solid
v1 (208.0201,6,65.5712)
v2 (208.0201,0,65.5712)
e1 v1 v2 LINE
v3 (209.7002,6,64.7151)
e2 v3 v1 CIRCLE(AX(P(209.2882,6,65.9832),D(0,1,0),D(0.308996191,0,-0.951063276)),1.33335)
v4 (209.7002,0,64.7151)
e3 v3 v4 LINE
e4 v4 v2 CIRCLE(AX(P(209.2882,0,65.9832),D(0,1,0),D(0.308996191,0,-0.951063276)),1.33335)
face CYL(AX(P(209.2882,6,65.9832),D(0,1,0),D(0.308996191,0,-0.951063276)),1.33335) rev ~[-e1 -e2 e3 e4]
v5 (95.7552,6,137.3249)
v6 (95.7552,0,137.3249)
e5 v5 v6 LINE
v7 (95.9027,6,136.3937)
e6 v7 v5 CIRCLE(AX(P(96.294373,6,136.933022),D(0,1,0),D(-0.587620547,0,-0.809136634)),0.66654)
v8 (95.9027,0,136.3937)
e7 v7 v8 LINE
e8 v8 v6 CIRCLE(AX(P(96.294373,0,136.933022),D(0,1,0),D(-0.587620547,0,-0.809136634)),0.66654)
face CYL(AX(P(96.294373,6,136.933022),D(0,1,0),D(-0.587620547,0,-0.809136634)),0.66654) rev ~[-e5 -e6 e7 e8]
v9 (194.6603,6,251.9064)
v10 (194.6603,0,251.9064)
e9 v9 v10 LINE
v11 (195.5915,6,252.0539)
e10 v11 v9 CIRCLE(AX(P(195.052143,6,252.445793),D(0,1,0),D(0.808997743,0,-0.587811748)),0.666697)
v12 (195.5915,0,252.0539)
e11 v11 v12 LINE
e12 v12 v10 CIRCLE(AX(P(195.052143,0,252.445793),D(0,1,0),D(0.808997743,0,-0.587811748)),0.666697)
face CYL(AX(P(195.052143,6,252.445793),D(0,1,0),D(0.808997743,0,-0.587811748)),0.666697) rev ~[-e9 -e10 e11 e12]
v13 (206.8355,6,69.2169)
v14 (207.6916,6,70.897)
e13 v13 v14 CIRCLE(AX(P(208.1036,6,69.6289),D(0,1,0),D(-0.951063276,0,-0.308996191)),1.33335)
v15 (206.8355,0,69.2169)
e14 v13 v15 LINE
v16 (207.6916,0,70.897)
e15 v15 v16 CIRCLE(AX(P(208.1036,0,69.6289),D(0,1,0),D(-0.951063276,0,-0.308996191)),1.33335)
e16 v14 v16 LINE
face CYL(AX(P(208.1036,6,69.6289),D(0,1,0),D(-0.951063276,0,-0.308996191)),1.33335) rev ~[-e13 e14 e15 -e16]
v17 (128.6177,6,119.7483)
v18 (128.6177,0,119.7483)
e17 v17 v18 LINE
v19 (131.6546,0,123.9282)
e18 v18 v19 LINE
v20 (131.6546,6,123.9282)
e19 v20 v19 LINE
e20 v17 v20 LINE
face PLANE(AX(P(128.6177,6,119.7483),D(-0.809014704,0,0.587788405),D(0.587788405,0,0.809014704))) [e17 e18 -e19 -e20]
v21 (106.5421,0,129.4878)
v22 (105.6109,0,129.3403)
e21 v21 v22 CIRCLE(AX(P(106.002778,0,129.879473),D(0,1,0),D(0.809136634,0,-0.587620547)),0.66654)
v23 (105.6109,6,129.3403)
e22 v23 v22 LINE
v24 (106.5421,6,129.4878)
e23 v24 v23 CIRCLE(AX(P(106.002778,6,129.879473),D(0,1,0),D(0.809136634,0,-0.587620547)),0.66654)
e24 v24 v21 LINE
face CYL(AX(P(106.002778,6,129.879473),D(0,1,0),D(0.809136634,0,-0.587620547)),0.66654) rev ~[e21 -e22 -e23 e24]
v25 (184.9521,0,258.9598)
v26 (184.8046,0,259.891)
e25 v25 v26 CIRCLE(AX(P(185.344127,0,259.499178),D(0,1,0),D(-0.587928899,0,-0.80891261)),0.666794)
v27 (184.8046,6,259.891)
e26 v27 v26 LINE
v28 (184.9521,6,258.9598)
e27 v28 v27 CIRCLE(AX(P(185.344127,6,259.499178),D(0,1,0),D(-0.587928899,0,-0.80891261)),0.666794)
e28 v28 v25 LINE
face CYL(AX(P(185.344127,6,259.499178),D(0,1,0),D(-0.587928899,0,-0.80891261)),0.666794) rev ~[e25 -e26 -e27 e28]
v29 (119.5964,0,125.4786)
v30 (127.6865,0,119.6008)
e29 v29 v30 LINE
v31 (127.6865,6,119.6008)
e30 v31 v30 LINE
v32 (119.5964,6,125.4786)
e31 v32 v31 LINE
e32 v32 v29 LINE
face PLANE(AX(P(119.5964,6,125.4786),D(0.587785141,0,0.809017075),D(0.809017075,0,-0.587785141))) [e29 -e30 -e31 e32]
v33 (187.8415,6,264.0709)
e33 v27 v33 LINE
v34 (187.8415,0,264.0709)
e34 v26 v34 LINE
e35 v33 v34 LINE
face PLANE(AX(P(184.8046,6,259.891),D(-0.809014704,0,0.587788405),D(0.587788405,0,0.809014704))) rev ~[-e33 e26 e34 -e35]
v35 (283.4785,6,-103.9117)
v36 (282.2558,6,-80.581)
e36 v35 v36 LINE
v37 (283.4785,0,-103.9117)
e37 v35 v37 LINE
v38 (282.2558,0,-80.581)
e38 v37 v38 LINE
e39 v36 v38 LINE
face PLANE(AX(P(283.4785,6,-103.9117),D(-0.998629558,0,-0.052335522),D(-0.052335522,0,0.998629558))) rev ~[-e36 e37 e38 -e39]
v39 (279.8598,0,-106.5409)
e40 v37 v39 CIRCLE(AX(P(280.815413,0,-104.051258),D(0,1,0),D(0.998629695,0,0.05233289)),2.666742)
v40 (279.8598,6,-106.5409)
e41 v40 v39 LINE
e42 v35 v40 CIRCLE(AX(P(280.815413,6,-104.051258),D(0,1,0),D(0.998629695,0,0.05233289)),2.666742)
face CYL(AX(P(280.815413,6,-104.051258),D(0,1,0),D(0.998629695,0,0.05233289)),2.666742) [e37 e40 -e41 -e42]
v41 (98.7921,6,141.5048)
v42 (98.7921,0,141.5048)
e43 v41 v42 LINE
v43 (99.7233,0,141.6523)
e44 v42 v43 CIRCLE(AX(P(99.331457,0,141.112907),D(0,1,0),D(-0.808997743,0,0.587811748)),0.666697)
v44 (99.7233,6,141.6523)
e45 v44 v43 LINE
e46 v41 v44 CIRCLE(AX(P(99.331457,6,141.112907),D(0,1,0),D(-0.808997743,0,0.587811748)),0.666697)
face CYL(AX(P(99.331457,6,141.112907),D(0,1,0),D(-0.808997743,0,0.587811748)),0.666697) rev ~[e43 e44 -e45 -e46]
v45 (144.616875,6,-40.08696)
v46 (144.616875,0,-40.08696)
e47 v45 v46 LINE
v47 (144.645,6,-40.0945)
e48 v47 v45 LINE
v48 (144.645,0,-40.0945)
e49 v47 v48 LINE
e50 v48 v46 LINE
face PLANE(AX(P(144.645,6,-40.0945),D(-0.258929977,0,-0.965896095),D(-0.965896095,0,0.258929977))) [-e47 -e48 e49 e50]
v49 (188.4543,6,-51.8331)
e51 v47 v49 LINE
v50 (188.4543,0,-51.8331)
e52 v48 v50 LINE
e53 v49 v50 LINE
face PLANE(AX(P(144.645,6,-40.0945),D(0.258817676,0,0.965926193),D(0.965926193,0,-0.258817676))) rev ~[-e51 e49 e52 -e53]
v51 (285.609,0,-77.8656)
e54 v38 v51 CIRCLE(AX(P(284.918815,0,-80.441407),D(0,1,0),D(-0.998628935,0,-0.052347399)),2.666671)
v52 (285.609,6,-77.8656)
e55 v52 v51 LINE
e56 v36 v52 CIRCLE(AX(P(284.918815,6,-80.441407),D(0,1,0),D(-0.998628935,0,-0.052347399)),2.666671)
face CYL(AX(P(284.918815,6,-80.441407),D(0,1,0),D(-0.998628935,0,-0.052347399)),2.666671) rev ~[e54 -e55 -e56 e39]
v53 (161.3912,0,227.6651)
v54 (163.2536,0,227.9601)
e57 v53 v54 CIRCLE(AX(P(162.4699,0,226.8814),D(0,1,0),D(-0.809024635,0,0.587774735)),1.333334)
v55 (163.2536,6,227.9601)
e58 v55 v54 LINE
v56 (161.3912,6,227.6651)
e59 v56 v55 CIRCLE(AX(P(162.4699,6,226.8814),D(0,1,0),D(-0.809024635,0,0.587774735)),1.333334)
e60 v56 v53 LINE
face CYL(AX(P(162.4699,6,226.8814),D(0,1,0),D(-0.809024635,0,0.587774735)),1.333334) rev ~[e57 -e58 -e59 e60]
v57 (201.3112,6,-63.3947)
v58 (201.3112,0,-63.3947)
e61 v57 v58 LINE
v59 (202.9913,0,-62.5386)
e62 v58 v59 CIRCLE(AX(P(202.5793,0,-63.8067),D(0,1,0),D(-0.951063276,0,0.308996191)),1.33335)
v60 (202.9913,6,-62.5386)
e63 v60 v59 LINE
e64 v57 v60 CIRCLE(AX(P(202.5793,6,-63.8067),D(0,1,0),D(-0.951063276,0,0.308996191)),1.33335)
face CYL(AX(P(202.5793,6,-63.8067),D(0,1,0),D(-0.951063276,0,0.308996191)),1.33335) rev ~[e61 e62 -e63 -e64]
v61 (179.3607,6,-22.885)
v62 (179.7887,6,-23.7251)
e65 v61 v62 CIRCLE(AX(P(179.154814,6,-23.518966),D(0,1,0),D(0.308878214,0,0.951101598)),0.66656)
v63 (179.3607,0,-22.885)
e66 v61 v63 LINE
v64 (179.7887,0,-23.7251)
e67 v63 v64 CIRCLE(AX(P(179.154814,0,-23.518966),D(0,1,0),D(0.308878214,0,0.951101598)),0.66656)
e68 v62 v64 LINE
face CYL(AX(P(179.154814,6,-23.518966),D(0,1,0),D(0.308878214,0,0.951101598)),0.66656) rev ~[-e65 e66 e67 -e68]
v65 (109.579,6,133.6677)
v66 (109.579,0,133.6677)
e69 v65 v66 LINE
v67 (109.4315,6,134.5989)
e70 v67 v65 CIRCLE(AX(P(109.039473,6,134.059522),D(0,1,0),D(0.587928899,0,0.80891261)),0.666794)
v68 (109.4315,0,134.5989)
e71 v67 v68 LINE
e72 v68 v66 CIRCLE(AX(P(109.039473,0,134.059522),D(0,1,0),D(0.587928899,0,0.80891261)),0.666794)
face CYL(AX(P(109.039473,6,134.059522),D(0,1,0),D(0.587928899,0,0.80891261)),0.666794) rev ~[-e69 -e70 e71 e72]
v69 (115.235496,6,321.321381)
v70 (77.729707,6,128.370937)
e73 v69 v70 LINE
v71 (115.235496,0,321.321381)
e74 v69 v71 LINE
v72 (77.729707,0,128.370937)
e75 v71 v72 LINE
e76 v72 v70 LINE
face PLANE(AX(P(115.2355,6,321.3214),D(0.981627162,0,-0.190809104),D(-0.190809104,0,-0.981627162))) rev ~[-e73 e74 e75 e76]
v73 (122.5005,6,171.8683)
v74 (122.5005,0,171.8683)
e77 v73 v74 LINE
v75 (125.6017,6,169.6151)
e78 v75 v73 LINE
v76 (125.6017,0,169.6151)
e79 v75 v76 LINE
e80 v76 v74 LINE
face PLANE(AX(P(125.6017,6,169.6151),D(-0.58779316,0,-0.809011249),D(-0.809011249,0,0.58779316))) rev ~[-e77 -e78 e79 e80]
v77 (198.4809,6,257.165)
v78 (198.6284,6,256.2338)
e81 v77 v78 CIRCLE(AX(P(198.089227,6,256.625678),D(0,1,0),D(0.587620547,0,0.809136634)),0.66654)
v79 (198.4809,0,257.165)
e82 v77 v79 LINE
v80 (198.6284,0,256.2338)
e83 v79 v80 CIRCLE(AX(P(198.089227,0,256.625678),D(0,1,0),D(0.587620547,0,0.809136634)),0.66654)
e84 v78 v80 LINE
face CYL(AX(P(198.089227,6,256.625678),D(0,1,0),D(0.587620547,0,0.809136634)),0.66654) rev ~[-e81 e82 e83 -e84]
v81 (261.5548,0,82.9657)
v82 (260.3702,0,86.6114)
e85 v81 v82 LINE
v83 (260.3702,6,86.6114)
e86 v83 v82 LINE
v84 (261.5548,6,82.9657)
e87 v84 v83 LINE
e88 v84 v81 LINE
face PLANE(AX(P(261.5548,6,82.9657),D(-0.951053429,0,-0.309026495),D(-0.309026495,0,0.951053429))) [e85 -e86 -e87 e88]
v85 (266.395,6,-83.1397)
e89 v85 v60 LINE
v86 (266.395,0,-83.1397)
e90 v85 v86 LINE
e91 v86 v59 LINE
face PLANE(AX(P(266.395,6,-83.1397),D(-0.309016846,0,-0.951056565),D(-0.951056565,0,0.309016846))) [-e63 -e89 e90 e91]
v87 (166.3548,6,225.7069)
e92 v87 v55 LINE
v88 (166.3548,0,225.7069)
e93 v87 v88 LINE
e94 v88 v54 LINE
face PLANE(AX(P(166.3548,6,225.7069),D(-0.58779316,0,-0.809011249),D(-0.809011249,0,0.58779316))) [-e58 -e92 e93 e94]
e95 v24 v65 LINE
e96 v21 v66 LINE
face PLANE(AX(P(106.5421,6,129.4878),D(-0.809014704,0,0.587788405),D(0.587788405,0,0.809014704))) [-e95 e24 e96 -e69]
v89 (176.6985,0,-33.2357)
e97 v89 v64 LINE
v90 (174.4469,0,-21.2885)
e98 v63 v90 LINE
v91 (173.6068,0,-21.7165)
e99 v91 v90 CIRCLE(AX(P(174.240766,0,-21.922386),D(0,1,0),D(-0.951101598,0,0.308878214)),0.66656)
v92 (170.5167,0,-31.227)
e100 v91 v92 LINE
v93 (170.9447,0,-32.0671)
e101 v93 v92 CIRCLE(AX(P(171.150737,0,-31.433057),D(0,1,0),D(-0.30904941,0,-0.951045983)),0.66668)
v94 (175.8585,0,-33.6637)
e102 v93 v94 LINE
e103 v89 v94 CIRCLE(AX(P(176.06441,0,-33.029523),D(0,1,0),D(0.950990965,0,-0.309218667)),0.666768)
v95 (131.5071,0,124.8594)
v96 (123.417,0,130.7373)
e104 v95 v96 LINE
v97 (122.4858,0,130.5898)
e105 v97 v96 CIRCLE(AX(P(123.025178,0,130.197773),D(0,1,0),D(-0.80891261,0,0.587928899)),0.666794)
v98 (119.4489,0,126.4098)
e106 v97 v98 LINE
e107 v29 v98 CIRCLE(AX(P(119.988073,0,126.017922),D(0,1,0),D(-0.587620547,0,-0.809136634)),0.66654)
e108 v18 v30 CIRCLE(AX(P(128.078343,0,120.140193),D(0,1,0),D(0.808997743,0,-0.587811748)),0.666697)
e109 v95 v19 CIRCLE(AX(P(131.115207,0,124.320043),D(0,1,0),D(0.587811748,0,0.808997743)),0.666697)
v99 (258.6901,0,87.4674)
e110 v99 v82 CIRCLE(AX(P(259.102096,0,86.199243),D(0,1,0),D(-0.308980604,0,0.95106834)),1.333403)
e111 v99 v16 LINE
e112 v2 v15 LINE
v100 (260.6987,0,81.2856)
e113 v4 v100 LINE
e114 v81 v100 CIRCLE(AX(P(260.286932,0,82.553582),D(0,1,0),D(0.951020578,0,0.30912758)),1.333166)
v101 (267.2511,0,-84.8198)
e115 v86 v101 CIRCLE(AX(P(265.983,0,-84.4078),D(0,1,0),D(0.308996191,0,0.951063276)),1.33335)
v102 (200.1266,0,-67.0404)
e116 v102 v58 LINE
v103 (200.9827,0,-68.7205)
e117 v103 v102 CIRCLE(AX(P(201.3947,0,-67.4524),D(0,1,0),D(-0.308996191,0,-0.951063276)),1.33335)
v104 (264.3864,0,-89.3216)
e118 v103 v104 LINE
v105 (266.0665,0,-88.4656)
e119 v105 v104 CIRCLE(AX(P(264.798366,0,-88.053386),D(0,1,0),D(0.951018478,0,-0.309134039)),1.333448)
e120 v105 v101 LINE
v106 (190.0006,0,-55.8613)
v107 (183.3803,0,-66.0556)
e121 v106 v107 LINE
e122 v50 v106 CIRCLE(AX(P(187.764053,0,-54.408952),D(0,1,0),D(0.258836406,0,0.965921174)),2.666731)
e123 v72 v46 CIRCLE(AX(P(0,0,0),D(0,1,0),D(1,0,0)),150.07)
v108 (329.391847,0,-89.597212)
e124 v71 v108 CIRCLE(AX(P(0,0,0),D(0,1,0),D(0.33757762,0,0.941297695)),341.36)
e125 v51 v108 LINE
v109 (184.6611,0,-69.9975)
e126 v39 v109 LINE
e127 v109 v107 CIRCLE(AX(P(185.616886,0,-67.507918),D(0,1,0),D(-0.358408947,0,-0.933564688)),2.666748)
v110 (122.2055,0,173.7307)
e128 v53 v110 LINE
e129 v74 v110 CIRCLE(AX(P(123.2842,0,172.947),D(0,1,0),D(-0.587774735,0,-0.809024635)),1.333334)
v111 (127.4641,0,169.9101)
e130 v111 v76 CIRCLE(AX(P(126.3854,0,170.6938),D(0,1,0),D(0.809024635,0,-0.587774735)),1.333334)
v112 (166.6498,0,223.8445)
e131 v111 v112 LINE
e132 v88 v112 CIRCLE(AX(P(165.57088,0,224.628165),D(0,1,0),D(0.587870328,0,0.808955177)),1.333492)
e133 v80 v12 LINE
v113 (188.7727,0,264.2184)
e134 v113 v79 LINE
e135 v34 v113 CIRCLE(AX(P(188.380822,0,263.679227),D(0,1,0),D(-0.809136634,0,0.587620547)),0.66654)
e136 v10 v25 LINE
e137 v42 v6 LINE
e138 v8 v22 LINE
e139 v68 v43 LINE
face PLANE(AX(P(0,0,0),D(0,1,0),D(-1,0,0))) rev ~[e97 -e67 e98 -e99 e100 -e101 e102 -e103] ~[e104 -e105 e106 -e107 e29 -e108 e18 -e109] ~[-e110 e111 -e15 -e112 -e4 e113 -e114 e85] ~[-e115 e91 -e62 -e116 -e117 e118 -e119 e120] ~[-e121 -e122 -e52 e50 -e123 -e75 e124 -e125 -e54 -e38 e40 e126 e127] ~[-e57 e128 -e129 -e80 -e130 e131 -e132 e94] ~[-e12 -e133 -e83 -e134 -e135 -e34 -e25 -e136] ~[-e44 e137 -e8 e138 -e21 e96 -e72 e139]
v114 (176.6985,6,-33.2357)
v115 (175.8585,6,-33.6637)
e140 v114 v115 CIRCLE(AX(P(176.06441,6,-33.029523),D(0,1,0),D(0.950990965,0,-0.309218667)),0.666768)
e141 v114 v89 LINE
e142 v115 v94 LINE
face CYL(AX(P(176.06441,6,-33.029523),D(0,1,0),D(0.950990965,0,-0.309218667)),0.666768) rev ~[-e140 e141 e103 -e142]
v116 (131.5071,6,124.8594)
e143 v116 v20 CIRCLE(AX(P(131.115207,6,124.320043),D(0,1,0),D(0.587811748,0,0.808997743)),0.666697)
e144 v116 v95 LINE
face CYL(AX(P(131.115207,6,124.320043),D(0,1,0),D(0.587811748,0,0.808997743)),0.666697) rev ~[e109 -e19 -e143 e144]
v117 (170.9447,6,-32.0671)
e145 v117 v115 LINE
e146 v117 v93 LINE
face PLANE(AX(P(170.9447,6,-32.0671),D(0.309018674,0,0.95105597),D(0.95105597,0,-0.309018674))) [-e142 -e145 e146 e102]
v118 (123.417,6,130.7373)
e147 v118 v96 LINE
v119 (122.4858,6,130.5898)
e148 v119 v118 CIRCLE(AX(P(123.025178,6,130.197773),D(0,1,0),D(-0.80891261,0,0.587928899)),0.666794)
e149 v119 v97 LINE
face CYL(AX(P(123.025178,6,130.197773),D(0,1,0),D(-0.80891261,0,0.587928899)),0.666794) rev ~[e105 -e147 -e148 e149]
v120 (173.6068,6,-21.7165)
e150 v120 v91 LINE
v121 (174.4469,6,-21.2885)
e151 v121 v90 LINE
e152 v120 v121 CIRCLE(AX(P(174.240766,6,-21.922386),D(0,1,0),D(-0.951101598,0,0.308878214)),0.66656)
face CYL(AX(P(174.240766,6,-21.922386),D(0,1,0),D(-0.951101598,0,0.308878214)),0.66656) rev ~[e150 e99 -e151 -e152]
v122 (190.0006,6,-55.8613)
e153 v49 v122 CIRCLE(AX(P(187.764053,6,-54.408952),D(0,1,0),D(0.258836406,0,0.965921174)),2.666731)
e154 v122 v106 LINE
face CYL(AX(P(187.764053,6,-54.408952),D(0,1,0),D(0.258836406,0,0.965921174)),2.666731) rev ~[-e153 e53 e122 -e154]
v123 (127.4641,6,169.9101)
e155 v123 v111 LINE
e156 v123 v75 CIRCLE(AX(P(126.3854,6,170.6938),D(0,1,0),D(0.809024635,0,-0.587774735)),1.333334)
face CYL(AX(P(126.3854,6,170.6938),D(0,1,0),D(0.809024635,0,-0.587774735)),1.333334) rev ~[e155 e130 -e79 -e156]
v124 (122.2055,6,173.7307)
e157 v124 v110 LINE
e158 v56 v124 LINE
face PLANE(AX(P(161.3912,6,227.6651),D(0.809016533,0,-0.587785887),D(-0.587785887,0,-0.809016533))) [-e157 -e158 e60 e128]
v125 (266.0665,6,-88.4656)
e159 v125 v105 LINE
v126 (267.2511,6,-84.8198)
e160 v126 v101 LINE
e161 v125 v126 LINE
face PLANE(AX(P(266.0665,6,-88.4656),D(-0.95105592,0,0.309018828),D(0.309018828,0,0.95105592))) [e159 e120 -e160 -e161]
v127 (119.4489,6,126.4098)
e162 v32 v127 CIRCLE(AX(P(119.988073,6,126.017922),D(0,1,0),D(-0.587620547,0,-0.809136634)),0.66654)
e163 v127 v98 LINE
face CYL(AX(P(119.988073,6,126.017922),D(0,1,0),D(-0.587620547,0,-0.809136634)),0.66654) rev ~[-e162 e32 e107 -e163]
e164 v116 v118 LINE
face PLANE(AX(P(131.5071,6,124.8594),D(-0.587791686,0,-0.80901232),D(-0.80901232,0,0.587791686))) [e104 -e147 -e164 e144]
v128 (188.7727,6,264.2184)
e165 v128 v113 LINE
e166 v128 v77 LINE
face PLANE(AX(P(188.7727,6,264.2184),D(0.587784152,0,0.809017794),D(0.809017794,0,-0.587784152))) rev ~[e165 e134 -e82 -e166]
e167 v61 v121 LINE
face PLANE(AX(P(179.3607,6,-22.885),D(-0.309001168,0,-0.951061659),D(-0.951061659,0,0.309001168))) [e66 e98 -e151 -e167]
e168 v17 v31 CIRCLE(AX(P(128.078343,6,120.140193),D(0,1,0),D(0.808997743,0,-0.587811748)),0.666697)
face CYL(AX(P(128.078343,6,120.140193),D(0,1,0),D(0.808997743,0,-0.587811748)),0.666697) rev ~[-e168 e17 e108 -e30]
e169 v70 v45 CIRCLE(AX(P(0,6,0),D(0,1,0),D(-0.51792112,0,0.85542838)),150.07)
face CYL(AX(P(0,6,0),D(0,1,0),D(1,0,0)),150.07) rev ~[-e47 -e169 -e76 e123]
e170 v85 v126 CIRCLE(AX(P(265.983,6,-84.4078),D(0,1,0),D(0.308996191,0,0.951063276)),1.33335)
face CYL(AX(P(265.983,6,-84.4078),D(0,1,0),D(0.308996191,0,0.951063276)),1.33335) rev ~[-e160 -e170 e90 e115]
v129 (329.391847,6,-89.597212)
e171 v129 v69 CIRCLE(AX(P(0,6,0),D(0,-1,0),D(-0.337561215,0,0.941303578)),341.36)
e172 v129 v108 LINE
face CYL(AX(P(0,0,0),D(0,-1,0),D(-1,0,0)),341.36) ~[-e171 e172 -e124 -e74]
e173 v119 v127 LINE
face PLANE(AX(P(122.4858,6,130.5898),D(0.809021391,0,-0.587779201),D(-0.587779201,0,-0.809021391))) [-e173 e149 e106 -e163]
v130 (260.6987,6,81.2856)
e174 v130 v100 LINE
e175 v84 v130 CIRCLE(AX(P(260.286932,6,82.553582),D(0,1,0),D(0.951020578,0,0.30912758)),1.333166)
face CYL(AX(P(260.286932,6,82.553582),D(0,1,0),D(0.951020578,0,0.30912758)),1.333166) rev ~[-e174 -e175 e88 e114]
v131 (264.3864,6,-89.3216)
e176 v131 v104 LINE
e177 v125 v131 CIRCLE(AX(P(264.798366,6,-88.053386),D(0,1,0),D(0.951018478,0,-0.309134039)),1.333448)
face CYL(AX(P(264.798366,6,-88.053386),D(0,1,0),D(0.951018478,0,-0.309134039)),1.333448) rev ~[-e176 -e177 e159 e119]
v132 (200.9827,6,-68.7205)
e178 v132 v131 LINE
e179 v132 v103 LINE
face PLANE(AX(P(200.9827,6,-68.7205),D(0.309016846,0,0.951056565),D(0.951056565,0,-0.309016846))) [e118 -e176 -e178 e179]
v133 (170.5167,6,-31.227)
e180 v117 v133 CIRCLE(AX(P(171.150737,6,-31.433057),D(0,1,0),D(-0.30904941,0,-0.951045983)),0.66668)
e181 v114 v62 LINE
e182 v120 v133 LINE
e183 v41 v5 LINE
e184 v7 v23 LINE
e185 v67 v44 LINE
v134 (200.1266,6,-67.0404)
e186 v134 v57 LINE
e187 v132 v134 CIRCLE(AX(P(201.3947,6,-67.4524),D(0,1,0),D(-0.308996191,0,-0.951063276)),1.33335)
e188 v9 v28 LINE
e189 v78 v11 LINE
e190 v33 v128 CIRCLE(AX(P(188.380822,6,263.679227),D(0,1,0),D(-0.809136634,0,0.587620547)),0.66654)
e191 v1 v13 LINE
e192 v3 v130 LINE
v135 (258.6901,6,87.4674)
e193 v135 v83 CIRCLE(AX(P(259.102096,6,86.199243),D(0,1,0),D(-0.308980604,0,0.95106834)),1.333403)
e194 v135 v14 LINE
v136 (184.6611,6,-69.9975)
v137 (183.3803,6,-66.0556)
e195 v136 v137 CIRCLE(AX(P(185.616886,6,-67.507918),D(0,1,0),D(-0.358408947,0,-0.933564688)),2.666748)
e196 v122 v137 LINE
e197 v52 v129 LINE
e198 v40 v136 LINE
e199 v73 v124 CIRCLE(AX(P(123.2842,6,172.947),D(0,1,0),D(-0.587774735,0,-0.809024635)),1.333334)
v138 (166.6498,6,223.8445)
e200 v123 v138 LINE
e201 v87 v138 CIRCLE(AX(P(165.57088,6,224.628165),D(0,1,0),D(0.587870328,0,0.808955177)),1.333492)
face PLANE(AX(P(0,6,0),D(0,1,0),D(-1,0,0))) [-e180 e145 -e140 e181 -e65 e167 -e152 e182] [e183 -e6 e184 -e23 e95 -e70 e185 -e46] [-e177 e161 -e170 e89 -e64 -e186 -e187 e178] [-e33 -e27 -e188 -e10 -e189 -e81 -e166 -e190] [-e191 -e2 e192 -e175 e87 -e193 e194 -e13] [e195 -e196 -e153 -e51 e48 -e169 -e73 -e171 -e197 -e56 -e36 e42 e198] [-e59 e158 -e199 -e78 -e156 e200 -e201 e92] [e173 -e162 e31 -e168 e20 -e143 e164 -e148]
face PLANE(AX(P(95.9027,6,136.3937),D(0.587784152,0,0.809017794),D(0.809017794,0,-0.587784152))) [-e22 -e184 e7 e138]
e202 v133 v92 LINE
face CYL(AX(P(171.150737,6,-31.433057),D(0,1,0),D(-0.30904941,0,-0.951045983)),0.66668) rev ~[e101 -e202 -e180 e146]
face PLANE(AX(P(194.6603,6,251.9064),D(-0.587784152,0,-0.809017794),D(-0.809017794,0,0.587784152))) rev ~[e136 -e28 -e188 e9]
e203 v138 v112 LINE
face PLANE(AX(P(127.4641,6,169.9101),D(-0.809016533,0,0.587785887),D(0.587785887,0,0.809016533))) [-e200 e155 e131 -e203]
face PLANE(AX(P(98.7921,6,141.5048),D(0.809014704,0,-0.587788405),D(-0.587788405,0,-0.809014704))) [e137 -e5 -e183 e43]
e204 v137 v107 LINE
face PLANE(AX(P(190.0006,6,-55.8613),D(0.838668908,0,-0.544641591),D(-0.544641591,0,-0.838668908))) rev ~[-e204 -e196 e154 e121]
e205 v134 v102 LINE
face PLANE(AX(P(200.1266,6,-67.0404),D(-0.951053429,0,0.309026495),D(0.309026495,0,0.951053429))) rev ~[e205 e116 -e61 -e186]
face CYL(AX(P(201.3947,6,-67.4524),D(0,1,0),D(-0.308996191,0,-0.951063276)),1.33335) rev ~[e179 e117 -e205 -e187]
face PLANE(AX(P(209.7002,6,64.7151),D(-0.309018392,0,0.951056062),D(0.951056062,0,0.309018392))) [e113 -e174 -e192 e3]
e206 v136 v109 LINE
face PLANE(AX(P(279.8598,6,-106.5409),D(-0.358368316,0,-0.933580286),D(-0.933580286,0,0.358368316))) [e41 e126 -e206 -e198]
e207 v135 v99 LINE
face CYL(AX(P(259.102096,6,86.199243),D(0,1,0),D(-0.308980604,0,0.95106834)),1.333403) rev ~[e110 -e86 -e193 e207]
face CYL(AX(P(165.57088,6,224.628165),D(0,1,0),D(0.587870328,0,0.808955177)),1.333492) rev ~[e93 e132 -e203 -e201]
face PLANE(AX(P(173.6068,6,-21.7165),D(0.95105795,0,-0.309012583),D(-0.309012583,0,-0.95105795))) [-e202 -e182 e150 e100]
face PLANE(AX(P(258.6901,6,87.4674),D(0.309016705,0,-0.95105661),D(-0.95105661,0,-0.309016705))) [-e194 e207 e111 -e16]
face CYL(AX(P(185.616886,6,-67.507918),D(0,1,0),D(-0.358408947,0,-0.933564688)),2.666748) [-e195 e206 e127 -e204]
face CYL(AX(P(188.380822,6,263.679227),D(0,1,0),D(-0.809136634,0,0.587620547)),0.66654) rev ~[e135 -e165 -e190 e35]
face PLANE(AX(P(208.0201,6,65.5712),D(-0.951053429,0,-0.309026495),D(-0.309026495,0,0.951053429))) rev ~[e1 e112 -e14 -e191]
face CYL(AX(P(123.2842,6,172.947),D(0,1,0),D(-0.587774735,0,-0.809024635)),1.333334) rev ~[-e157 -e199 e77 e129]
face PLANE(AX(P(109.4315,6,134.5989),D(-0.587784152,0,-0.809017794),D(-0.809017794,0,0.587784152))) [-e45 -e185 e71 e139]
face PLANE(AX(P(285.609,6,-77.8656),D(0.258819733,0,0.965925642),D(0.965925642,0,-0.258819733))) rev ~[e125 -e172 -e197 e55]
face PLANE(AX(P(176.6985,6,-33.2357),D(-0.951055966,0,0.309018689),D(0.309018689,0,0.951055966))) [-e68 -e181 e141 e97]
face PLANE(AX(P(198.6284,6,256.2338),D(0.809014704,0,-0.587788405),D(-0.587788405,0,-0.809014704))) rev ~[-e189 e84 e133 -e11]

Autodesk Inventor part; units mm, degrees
ref_plane "YZ Plane" through (0, 0, 0) normal (1, 0, 0) x (0, 1, 0)
ref_plane "XZ Plane" through (0, 0, 0) normal (0, 1, 0) x (-1, 0, 0)
sketch "Sketch1" plane through (0, 0, 0) normal (0, 1, 0) x (-1, 0, 0)
  circle A0 centre (0, 0) radius 341.36
  circle A1 centre (0, 0) radius 150.07
  dimension "d84" = 300.14
  dimension "d85" = 682.72
extrude "Extrusion3" add sketch "Sketch1" along normal blind 6 contours A0 | A1
sketch "Sketch2" plane through (0, 6, 0) normal (0, 1, 0) x (1, 0, 0)
  circle A0 centre (0, 0) radius 245.715 construction
  line L0 (245.7148, 0.3131) -> (341.6521, -0.0088)
  line L1 (-0.6289, 279.0483) -> (-0.0524, 279.0483)
  line L2 (3.25, 279.0483) -> (3.25, 212.3817)
  line L3 (0.5377, 212.3817) -> (-0.051, 212.3817)
  line L4 (-3.25, 212.3817) -> (-3.25, 279.0483)
  arc A1 (-3.25, 212.3817) -> (-1.9167, 211.0483) centre (-1.9167, 212.3817) ccw
  arc A2 (1.9167, 211.0483) -> (3.25, 212.3817) centre (1.9167, 212.3817) ccw
  arc A3 (-1.9167, 280.3817) -> (-3.25, 279.0483) centre (-1.9167, 279.0483) ccw
  arc A4 (3.25, 279.0483) -> (1.9167, 280.3817) centre (1.9167, 279.0483) ccw
  line L5 (-1.9167, 280.3817) -> (1.9167, 280.3817)
  line L6 (-1.9167, 211.0483) -> (1.9167, 211.0483)
  line L7 (0, 0) -> (0, 212.3817)
  line L8 (0, 280.3817) -> (0, 341.36)
  line L9 (0, 211.0483) -> (0, 245.715) construction
  line L10 (0, 280.3817) -> (0, 245.715) construction
  arc A5 (-157.4948, 221.8428) -> (-159.3572, 222.1378) centre (-158.5735, 221.0591) ccw
  line L11 (-162.4585, 219.8846) -> (-159.3572, 222.1378)
  arc A6 (-162.4585, 219.8846) -> (-162.7534, 218.0222) centre (-161.6748, 218.8059) ccw
  line L12 (-160.9079, 221.0112) -> (-144.3647, 198.2416) construction
  line L13 (-160.633, 219.5628) -> (-160.1666, 219.9017)
  line L14 (-157.4948, 221.8428) -> (-125.976, 178.4609)
  line L15 (-131.2346, 174.6403) -> (-162.7534, 218.0222)
  line L16 (-127.8216, 175.4719) -> (-144.3647, 198.2416) construction
  line L17 (-128.1703, 176.8667) -> (-128.6466, 176.5206)
  arc A7 (-126.271, 176.5985) -> (-125.976, 178.4609) centre (-127.0547, 177.6772) ccw
  line L18 (-129.3722, 174.3453) -> (-126.271, 176.5985)
  arc A8 (-131.2346, 174.6403) -> (-129.3722, 174.3453) centre (-130.156, 175.424) ccw
  arc A9 (-259.6684, -81.8575) -> (-260.5244, -83.5376) centre (-259.2564, -83.1256) ccw
  line L19 (-259.3399, -87.1834) -> (-260.5244, -83.5376)
  arc A10 (-259.3399, -87.1834) -> (-257.6598, -88.0394) centre (-258.0718, -86.7713) ccw
  line L20 (-259.9321, -85.3605) -> (-233.1648, -76.6633) construction
  line L21 (-258.4697, -85.5466) -> (-258.6479, -84.9983)
  line L22 (-259.6684, -81.8575) -> (-208.6699, -65.2871)
  line L23 (-206.6613, -71.469) -> (-257.6598, -88.0394)
  line L24 (-206.3975, -67.966) -> (-233.1648, -76.6633) construction
  line L25 (-207.8317, -67.8666) -> (-207.6498, -68.4265)
  arc A11 (-206.9898, -66.1432) -> (-208.6699, -65.2871) centre (-208.2578, -66.5552) ccw
  line L26 (-205.8052, -69.7889) -> (-206.9898, -66.1432)
  arc A12 (-206.6613, -71.469) -> (-205.8052, -69.7889) centre (-207.0733, -70.2009) ccw
  arc A13 (258.6901, -87.4674) -> (260.3702, -86.6114) centre (259.1021, -86.1993) ccw
  line L27 (261.5548, -82.9657) -> (260.3702, -86.6114)
  arc A14 (261.5548, -82.9657) -> (260.6987, -81.2856) centre (260.2867, -82.5536) ccw
  line L28 (260.9625, -84.7885) -> (234.1951, -76.0913) construction
  line L29 (259.8887, -83.7783) -> (259.7106, -84.3266)
  line L30 (258.6901, -87.4674) -> (207.6916, -70.897)
  line L31 (209.7002, -64.7151) -> (260.6987, -81.2856)
  line L32 (207.4278, -67.394) -> (234.1951, -76.0913) construction
  line L33 (208.5297, -68.3175) -> (208.7116, -67.7576)
  arc A15 (206.8355, -69.2169) -> (207.6916, -70.897) centre (208.1036, -69.6289) ccw
  line L34 (208.0201, -65.5712) -> (206.8355, -69.2169)
  arc A16 (209.7002, -64.7151) -> (208.0201, -65.5712) centre (209.2882, -65.9832) ccw
  arc A17 (162.9147, 218.5186) -> (162.6198, 220.381) centre (161.836, 219.3023) ccw
  line L35 (159.5185, 222.6342) -> (162.6198, 220.381)
  arc A18 (159.5185, 222.6342) -> (157.6561, 222.3392) centre (158.7348, 221.5555) ccw
  line L36 (161.0691, 221.5076) -> (144.526, 198.7379) construction
  line L37 (159.7766, 220.7986) -> (160.243, 220.4597)
  line L38 (162.9147, 218.5186) -> (131.3959, 175.1367)
  line L39 (126.1373, 178.9573) -> (157.6561, 222.3392)
  line L40 (127.9829, 175.9683) -> (144.526, 198.7379) construction
  line L41 (129.2017, 176.7309) -> (128.7254, 177.0769)
  arc A19 (129.5335, 174.8417) -> (131.3959, 175.1367) centre (130.3172, 175.9204) ccw
  line L42 (126.4323, 177.0949) -> (129.5335, 174.8417)
  arc A20 (126.1373, 178.9573) -> (126.4323, 177.0949) centre (127.216, 178.1736) ccw
  line L43 (-265.5851, 85.6325) -> (-265.4069, 86.1808)
  line L44 (-267.2511, 84.8198) -> (-266.0665, 88.4656)
  line L45 (-201.3112, 63.3947) -> (-200.1266, 67.0404)
  arc A21 (-267.2511, 84.8198) -> (-266.395, 83.1397) centre (-265.983, 84.4078) ccw
  arc A22 (-264.3864, 89.3216) -> (-266.0665, 88.4656) centre (-264.7985, 88.0535) ccw
  line L46 (-266.6588, 86.6427) -> (-233.6889, 75.9301) construction
  line L47 (-202.9913, 62.5386) -> (-266.395, 83.1397)
  line L48 (-264.3864, 89.3216) -> (-200.9827, 68.7205)
  line L49 (-200.7189, 65.2175) -> (-233.6889, 75.9301) construction
  arc A23 (-202.9913, 62.5386) -> (-201.3112, 63.3947) centre (-202.5793, 63.8067) ccw
  arc A24 (-200.1266, 67.0404) -> (-200.9827, 68.7205) centre (-201.3947, 67.4524) ccw
  line L50 (-201.8208, 66.141) -> (-202.0027, 65.5811)
  line L51 (-163.5117, -226.1245) -> (-163.9781, -225.7857)
  line L52 (-163.2536, -227.9601) -> (-166.3548, -225.7069)
  line L53 (-122.5005, -171.8683) -> (-125.6017, -169.6151)
  arc A25 (-163.2536, -227.9601) -> (-161.3912, -227.6651) centre (-162.4699, -226.8814) ccw
  arc A26 (-166.6498, -223.8445) -> (-166.3548, -225.7069) centre (-165.5711, -224.6283) ccw
  line L54 (-164.8042, -226.8335) -> (-144.4277, -198.7876) construction
  line L55 (-122.2055, -173.7307) -> (-161.3912, -227.6651)
  line L56 (-166.6498, -223.8445) -> (-127.4641, -169.9101)
  line L57 (-124.0511, -170.7417) -> (-144.4277, -198.7876) construction
  arc A27 (-122.2055, -173.7307) -> (-122.5005, -171.8683) centre (-123.2842, -172.947) ccw
  arc A28 (-125.6017, -169.6151) -> (-127.4641, -169.9101) centre (-126.3854, -170.6938) ccw
  line L58 (-125.2699, -171.5043) -> (-124.7936, -171.8503)
  line L59 (164.5293, -225.3852) -> (164.0629, -225.724)
  line L60 (166.3548, -225.7069) -> (163.2536, -227.9601)
  line L61 (125.6017, -169.6151) -> (122.5005, -171.8683)
  arc A29 (166.3548, -225.7069) -> (166.6498, -223.8445) centre (165.5711, -224.6283) ccw
  arc A30 (161.3912, -227.6651) -> (163.2536, -227.9601) centre (162.4699, -226.8814) ccw
  line L62 (164.8042, -226.8335) -> (144.4277, -198.7876) construction
  line L63 (127.4641, -169.9101) -> (166.6498, -223.8445)
  line L64 (161.3912, -227.6651) -> (122.2055, -173.7307)
  line L65 (124.0511, -170.7417) -> (144.4277, -198.7876) construction
  arc A31 (127.4641, -169.9101) -> (125.6017, -169.6151) centre (126.3854, -170.6938) ccw
  arc A32 (122.5005, -171.8683) -> (122.2055, -173.7307) centre (123.2842, -172.947) ccw
  line L66 (124.3998, -172.1365) -> (124.8761, -171.7904)
  line L67 (265.1964, 86.8288) -> (265.3745, 86.2805)
  line L68 (266.0665, 88.4656) -> (267.2511, 84.8198)
  line L69 (200.1266, 67.0404) -> (201.3112, 63.3947)
  arc A33 (266.0665, 88.4656) -> (264.3864, 89.3216) centre (264.7985, 88.0535) ccw
  arc A34 (266.395, 83.1397) -> (267.2511, 84.8198) centre (265.983, 84.4078) ccw
  line L70 (266.6588, 86.6427) -> (233.6889, 75.9301) construction
  line L71 (200.9827, 68.7205) -> (264.3864, 89.3216)
  line L72 (266.395, 83.1397) -> (202.9913, 62.5386)
  line L73 (200.7189, 65.2175) -> (233.6889, 75.9301) construction
  arc A35 (200.9827, 68.7205) -> (200.1266, 67.0404) centre (201.3947, 67.4524) ccw
  arc A36 (201.3112, 63.3947) -> (202.9913, 62.5386) centre (202.5793, 63.8067) ccw
  line L74 (202.1531, 65.1181) -> (201.9712, 65.678)
  line L75 (236.8664, -101.279) -> (236.7913, -101.5102)
  point P0 (-128.6053, 176.5506)
  point P1 (-207.6656, -68.3781)
  point P2 (208.6959, -67.8061)
  point P3 (128.7666, 177.047)
  point P4 (-201.987, 65.6295)
  point P5 (-124.8348, -171.8204)
  point P6 (124.8348, -171.8204)
  point P7 (201.987, 65.6295)
  dimension "d21" = 6.5
  dimension "d23" = 66.6667
  dimension "d24" = 2.6667
  dimension "d25" = 2.6667
  dimension "d32" = 1.3333
  dimension "d33" = 1.3333
  dimension "d41" = 90
  dimension "d42" = 3.25
  dimension "d43" = 90
  dimension "d49" = 360
  dimension "d86" = 491.43
  dimension "d96" = 0.243
extrude "Extrusion4" cut sketch "Sketch2" against normal through all
sketch "Sketch3" plane through (0, 6, 0) normal (0, 1, 0) x (1, 0, 0)
  arc A0 (-115.2299, -321.3234) -> (115.2355, -321.3214) centre (0, 0) ccw
  arc A1 (-77.7244, -128.3741) -> (77.7297, -128.3709) centre (0, 0) ccw
  line L0 (-122.1811, -173.696) -> (-161.3589, -227.6196)
  line L1 (-115.2299, -321.3234) -> (-77.7244, -128.3741)
  line L2 (0, 0) -> (0, -341.2918)
  line L3 (115.2355, -321.3214) -> (77.7297, -128.3709)
  line L4 (161.3912, -227.6651) -> (122.2055, -173.7307) projected
  dimension "d52" = 25
  dimension "d87" = 150.07
  dimension "d88" = 341.36
  dimension "d89" = 25
  dimension "d90" = 11
  dimension "d91" = 11
extrude "Extrusion5" cut sketch "Sketch3" against normal blind 10
sketch "Sketch5" plane through (0, 6, 0) normal (0, 1, 0) x (1, 0, 0)
  line L0 (3.25, 279.0483) -> (3.25, 212.3817) projected
  line L1 (5.5862, 197.9634) -> (-6.155, 194.8174)
  line L2 (-11.2263, 301.7146) -> (10.5847, 293.3421)
  line L3 (6.5657, 149.9554) -> (8.9394, 195.248)
  line L4 (14.2034, 295.6921) -> (16.5771, 340.9846)
  arc A0 (10.5847, 293.3421) -> (14.2034, 295.6921) centre (11.5404, 295.8316) ccw
  arc A1 (8.9394, 195.248) -> (5.5862, 197.9634) centre (6.2763, 195.3876) ccw
  arc A2 (-11.2263, 301.7146) -> (-14.8449, 299.0854) centre (-12.1819, 299.225) ccw
  line L5 (-3.25, 212.3817) -> (-3.25, 279.0483) projected
  line L6 (-14.8449, 299.0854) -> (-9.5081, 197.2536)
  arc A3 (-9.5081, 197.2536) -> (-6.155, 194.8174) centre (-6.8451, 197.3932) ccw
  line L7 (-1.9167, 211.0483) -> (1.9167, 211.0483) projected
  line L8 (1.9167, 280.3817) -> (-1.9167, 280.3817) projected
  arc A4 (115.2355, -321.3214) -> (-115.2299, -321.3234) centre (0, 0) ccw
  line L9 (16.5771, 340.9846) -> (16.5774, 340.9903)
  arc A5 (-190.5375, 51.9119) -> (-187.1843, 54.3482) centre (-189.8473, 54.4877) ccw
  line L10 (-186.5481, 66.4868) -> (-187.1843, 54.3482)
  arc A6 (-182.9295, 68.8368) -> (-186.5481, 66.4868) centre (-183.8851, 66.3472) ccw
  arc A7 (-275.714, 100.7144) -> (-276.8308, 104.8821) centre (-277.7864, 102.3926) ccw
  line L11 (-289.0345, 78.3041) -> (-190.5375, 51.9119)
  arc A8 (-290.4167, 82.5581) -> (-289.0345, 78.3041) centre (-288.3443, 80.8799) ccw
  line L12 (-290.4167, 82.5581) -> (-275.714, 100.7144)
  line L13 (-276.8308, 104.8821) -> (-319.1731, 121.1358)
  line L14 (-140.5872, 52.5831) -> (-182.9295, 68.8368)
  line L15 (-319.1731, 121.1358) -> (-319.1784, 121.1378)
  arc A9 (184.6611, 69.9975) -> (183.3803, 66.0556) centre (185.6168, 67.508) ccw
  line L16 (190.0006, 55.8613) -> (183.3803, 66.0556)
  arc A10 (188.4543, 51.8331) -> (190.0006, 55.8613) centre (187.7641, 54.4089) ccw
  arc A11 (282.2558, 80.581) -> (285.609, 77.8656) centre (284.9188, 80.4414) ccw
  line L17 (279.8598, 106.5409) -> (184.6611, 69.9975)
  arc A12 (283.4785, 103.9117) -> (279.8598, 106.5409) centre (280.8155, 104.0513) ccw
  line L18 (283.4785, 103.9117) -> (282.2558, 80.581)
  line L19 (285.609, 77.8656) -> (329.4183, 89.6043)
  line L20 (144.645, 40.0945) -> (188.4543, 51.8331)
  line L21 (329.4183, 89.6043) -> (329.4238, 89.6058)
  circle A13 centre (0, 0) radius 150.07
  line L22 (-140.5872, 52.5831) -> (-140.5479, 52.568)
  line L23 (144.645, 40.0945) -> (144.5122, 40.0589)
  line L24 (6.5657, 149.9554) -> (6.5621, 149.8874)
  arc A14 (-77.7244, -128.3741) -> (77.7297, -128.3709) centre (0, 0) ccw projected
  arc A15 (115.2355, -321.3214) -> (-115.2299, -321.3234) centre (0, 0) ccw projected
  line L25 (77.7297, -128.3709) -> (115.2355, -321.3214)
  line L26 (-77.7244, -128.3741) -> (-115.2299, -321.3234)
  point P0 (-77.7399, -128.3998)
  point P1 (77.7399, -128.3998)
  point P2 (-319.1475, 121.126)
  point P3 (-140.56, 52.5727)
  point P4 (6.5642, 149.9264)
  point P5 (16.5757, 340.9573)
  point P6 (329.3918, 89.5972)
  point P7 (144.6169, 40.0869)
  dimension "d63" = 2.6667
  dimension "d64" = 3
  dimension "d66" = 3
  dimension "d67" = 2.6667
  dimension "d68" = 2.6667
  dimension "d70" = 72
  dimension "d71" = 72
  dimension "d94" = 300.14
  dimension "d95" = 682.72
sketch "Sketch6" plane through (0, 6, 0) normal (0, 1, 0) x (1, 0, 0)
  line L0 (188.7727, -264.2184) -> (198.4809, -257.165)
  line L1 (194.6603, -251.9064) -> (184.9521, -258.9598)
  line L2 (161.3912, -227.6651) -> (122.2055, -173.7307) projected
  line L3 (166.3548, -225.7069) -> (163.2536, -227.9601) projected
  arc A0 (195.5915, -252.0539) -> (194.6603, -251.9064) centre (195.0522, -252.4457) ccw
  arc A1 (198.4809, -257.165) -> (198.6284, -256.2338) centre (198.0891, -256.6256) ccw
  arc A2 (187.8415, -264.0709) -> (188.7727, -264.2184) centre (188.3809, -263.6791) ccw
  arc A3 (184.9521, -258.9598) -> (184.8046, -259.891) centre (185.344, -259.4991) ccw
  line L4 (184.8046, -259.891) -> (187.8415, -264.0709)
  line L5 (198.6284, -256.2338) -> (195.5915, -252.0539)
  line L6 (122.2055, -173.7307) -> (161.3912, -227.6651) projected
  line L7 (141.7983, -200.6979) -> (147.057, -196.8773)
  line L8 (166.6498, -223.8445) -> (127.4641, -169.9101) projected
  line L9 (95.9027, -136.3937) -> (105.6109, -129.3403)
  line L10 (109.4315, -134.5989) -> (99.7233, -141.6523)
  arc A4 (109.4315, -134.5989) -> (109.579, -133.6677) centre (109.0396, -134.0596) ccw
  arc A5 (106.5421, -129.4878) -> (105.6109, -129.3403) centre (106.0027, -129.8796) ccw
  arc A6 (95.9027, -136.3937) -> (95.7552, -137.3249) centre (96.2945, -136.9331) ccw
  arc A7 (98.7921, -141.5048) -> (99.7233, -141.6523) centre (99.3314, -141.113) ccw
  line L11 (98.7921, -141.5048) -> (95.7552, -137.3249)
  line L12 (106.5421, -129.4878) -> (109.579, -133.6677)
  point P0 (0, 0)
  dimension "d104" = 6.5
  dimension "d105" = 12
  dimension "d108" = 1.3333
  dimension "d109" = 1.3333
  dimension "d110" = 1.3333
  dimension "d111" = 1.3333
  dimension "d112" = 0
  dimension "d149" = 145
  dimension "d150" = 90
  dimension "d151" = 90
  dimension "d152" = 90
  dimension "d153" = 90
extrude "Extrusion7" cut sketch "Sketch6" against normal through all
sketch "Sketch7" plane through (0, 6, 0) normal (0, 1, 0) x (1, 0, 0)
  line L0 (119.5964, -125.4786) -> (127.6865, -119.6008)
  line L1 (106.4838, -136.3528) -> (96.7756, -143.4062)
  line L2 (128.6177, -119.7483) -> (131.6546, -123.9282)
  line L3 (131.5071, -124.8594) -> (123.417, -130.7373)
  line L4 (122.4858, -130.5898) -> (119.4489, -126.4098)
  line L5 (103.5944, -131.2417) -> (106.6313, -135.4216)
  arc A0 (119.5964, -125.4786) -> (119.4489, -126.4098) centre (119.9882, -126.018) ccw
  arc A1 (122.4858, -130.5898) -> (123.417, -130.7373) centre (123.0251, -130.1979) ccw
  arc A2 (128.6177, -119.7483) -> (127.6865, -119.6008) centre (128.0784, -120.1401) ccw
  arc A3 (131.5071, -124.8594) -> (131.6546, -123.9282) centre (131.1153, -124.3201) ccw
  line L6 (173.6068, 21.7165) -> (170.5167, 31.227)
  line L7 (170.9447, 32.0671) -> (175.8585, 33.6637)
  line L8 (176.6985, 33.2357) -> (179.7887, 23.7251)
  line L9 (179.3607, 22.885) -> (174.4469, 21.2885)
  arc A4 (173.6068, 21.7165) -> (174.4469, 21.2885) centre (174.2409, 21.9225) ccw
  arc A5 (179.3607, 22.885) -> (179.7887, 23.7251) centre (179.1547, 23.5191) ccw
  arc A6 (170.9447, 32.0671) -> (170.5167, 31.227) centre (171.1507, 31.4331) ccw
  arc A7 (176.6985, 33.2357) -> (175.8585, 33.6637) centre (176.0645, 33.0296) ccw
  line L10 (188.4543, 51.8331) -> (144.6169, 40.0869) projected
  line L11 (201.3112, 63.3947) -> (200.1266, 67.0404) projected
  line L12 (179.8921, 12.7927) -> (180.0981, 12.1586)
  line L13 (183.5904, 29.3861) -> (183.8471, 29.4696)
  point P0 (0, 0)
  dimension "d116" = 1.3333
  dimension "d117" = 1.3333
  dimension "d119" = 1.3333
  dimension "d120" = 1.3333
  dimension "d121" = 6.5
  dimension "d122" = 10
  dimension "d126" = 1.09
  dimension "d127" = 16.3333
  dimension "d128" = 1.3333
  dimension "d129" = 1.3333
  dimension "d130" = 1.3333
  dimension "d131" = 1.3333
  dimension "d132" = 6.5
  dimension "d133" = 10
  dimension "d135" = 3
  dimension "d140" = 0.6667
  dimension "d148" = 0.27
extrude "Extrusion8" cut sketch "Sketch7" against normal through all contours L0 A2 L2 A3 L3 A1 L4 A0
extrude "Extrusion9" cut sketch "Sketch7" against normal through all contours L6 A6 L7 A7 L8 A5 L9 A4
ref_plane "Work Plane1" through (265.3907, 0, -86.2307) normal (0.309, 0, 0.9511) x (0.9511, 0, -0.309)
mirror "Mirror2" about plane through (265.3907, 0, -86.2307) normal (0.309, 0, 0.9511) of "Extrusion9"
mirror "Mirror1" about plane through (0, 0, 0) normal (1, 0, 0) of "Extrusion8", "Extrusion9", "Mirror2"
pattern_circular "Circular Pattern1" count 2 over 72 about axis through (0, -10, 0) along (0, 1, 0) of "Extrusion9", "Mirror2"
pattern_circular "Circular Pattern2" count 2 over 72 about axis through (0, -10, 0) along (0, 1, 0) of "Extrusion7"
pattern_circular "Circular Pattern3" count 2 over 144 about axis through (0, -10, 0) along (0, 1, 0) of "Extrusion7"
mirror "Mirror3" about plane through (0, 0, 0) normal (1, 0, 0) of "Extrusion7", "Circular Pattern2"
extrude "Extrusion10" cut sketch "Sketch5" against normal through all contours A1 L3 L24 A13 L22 L14 A6 L10 A5 L11 A8 L12 A7 L13 A4 L4 A0 L2 A2 L6 A3 L1 | L1 A3 L6 A2 L2 A0 L4 A4 L19 A11 L18 A12 L17 A9 L16 A10 L20 L23 A13 L24 L3 A1 | A13 | A13 L26 A4 L13 A7 L12 A8 L11 A5 L10 A6 L14 L22
equation "\"BendRadius\" = Thickness"
equation "\"BendReliefWidth\" = Thickness"
equation "\"BendReliefDepth\" = 0.5 * Thickness"
equation "\"CornerReliefSize\" = 4 * Thickness"
equation "\"MinimumRemnant\" = 2 * Thickness"
equation "\"TransitionRadius\" = BendRadius"
equation "\"JacobiRadiusSize\" = BendRadius"
equation "\"GapSize\" = Thickness"
equation "\"Thickness\" = 0.5"
properties part number "Ring B-4" material "Wood (Maple)"
